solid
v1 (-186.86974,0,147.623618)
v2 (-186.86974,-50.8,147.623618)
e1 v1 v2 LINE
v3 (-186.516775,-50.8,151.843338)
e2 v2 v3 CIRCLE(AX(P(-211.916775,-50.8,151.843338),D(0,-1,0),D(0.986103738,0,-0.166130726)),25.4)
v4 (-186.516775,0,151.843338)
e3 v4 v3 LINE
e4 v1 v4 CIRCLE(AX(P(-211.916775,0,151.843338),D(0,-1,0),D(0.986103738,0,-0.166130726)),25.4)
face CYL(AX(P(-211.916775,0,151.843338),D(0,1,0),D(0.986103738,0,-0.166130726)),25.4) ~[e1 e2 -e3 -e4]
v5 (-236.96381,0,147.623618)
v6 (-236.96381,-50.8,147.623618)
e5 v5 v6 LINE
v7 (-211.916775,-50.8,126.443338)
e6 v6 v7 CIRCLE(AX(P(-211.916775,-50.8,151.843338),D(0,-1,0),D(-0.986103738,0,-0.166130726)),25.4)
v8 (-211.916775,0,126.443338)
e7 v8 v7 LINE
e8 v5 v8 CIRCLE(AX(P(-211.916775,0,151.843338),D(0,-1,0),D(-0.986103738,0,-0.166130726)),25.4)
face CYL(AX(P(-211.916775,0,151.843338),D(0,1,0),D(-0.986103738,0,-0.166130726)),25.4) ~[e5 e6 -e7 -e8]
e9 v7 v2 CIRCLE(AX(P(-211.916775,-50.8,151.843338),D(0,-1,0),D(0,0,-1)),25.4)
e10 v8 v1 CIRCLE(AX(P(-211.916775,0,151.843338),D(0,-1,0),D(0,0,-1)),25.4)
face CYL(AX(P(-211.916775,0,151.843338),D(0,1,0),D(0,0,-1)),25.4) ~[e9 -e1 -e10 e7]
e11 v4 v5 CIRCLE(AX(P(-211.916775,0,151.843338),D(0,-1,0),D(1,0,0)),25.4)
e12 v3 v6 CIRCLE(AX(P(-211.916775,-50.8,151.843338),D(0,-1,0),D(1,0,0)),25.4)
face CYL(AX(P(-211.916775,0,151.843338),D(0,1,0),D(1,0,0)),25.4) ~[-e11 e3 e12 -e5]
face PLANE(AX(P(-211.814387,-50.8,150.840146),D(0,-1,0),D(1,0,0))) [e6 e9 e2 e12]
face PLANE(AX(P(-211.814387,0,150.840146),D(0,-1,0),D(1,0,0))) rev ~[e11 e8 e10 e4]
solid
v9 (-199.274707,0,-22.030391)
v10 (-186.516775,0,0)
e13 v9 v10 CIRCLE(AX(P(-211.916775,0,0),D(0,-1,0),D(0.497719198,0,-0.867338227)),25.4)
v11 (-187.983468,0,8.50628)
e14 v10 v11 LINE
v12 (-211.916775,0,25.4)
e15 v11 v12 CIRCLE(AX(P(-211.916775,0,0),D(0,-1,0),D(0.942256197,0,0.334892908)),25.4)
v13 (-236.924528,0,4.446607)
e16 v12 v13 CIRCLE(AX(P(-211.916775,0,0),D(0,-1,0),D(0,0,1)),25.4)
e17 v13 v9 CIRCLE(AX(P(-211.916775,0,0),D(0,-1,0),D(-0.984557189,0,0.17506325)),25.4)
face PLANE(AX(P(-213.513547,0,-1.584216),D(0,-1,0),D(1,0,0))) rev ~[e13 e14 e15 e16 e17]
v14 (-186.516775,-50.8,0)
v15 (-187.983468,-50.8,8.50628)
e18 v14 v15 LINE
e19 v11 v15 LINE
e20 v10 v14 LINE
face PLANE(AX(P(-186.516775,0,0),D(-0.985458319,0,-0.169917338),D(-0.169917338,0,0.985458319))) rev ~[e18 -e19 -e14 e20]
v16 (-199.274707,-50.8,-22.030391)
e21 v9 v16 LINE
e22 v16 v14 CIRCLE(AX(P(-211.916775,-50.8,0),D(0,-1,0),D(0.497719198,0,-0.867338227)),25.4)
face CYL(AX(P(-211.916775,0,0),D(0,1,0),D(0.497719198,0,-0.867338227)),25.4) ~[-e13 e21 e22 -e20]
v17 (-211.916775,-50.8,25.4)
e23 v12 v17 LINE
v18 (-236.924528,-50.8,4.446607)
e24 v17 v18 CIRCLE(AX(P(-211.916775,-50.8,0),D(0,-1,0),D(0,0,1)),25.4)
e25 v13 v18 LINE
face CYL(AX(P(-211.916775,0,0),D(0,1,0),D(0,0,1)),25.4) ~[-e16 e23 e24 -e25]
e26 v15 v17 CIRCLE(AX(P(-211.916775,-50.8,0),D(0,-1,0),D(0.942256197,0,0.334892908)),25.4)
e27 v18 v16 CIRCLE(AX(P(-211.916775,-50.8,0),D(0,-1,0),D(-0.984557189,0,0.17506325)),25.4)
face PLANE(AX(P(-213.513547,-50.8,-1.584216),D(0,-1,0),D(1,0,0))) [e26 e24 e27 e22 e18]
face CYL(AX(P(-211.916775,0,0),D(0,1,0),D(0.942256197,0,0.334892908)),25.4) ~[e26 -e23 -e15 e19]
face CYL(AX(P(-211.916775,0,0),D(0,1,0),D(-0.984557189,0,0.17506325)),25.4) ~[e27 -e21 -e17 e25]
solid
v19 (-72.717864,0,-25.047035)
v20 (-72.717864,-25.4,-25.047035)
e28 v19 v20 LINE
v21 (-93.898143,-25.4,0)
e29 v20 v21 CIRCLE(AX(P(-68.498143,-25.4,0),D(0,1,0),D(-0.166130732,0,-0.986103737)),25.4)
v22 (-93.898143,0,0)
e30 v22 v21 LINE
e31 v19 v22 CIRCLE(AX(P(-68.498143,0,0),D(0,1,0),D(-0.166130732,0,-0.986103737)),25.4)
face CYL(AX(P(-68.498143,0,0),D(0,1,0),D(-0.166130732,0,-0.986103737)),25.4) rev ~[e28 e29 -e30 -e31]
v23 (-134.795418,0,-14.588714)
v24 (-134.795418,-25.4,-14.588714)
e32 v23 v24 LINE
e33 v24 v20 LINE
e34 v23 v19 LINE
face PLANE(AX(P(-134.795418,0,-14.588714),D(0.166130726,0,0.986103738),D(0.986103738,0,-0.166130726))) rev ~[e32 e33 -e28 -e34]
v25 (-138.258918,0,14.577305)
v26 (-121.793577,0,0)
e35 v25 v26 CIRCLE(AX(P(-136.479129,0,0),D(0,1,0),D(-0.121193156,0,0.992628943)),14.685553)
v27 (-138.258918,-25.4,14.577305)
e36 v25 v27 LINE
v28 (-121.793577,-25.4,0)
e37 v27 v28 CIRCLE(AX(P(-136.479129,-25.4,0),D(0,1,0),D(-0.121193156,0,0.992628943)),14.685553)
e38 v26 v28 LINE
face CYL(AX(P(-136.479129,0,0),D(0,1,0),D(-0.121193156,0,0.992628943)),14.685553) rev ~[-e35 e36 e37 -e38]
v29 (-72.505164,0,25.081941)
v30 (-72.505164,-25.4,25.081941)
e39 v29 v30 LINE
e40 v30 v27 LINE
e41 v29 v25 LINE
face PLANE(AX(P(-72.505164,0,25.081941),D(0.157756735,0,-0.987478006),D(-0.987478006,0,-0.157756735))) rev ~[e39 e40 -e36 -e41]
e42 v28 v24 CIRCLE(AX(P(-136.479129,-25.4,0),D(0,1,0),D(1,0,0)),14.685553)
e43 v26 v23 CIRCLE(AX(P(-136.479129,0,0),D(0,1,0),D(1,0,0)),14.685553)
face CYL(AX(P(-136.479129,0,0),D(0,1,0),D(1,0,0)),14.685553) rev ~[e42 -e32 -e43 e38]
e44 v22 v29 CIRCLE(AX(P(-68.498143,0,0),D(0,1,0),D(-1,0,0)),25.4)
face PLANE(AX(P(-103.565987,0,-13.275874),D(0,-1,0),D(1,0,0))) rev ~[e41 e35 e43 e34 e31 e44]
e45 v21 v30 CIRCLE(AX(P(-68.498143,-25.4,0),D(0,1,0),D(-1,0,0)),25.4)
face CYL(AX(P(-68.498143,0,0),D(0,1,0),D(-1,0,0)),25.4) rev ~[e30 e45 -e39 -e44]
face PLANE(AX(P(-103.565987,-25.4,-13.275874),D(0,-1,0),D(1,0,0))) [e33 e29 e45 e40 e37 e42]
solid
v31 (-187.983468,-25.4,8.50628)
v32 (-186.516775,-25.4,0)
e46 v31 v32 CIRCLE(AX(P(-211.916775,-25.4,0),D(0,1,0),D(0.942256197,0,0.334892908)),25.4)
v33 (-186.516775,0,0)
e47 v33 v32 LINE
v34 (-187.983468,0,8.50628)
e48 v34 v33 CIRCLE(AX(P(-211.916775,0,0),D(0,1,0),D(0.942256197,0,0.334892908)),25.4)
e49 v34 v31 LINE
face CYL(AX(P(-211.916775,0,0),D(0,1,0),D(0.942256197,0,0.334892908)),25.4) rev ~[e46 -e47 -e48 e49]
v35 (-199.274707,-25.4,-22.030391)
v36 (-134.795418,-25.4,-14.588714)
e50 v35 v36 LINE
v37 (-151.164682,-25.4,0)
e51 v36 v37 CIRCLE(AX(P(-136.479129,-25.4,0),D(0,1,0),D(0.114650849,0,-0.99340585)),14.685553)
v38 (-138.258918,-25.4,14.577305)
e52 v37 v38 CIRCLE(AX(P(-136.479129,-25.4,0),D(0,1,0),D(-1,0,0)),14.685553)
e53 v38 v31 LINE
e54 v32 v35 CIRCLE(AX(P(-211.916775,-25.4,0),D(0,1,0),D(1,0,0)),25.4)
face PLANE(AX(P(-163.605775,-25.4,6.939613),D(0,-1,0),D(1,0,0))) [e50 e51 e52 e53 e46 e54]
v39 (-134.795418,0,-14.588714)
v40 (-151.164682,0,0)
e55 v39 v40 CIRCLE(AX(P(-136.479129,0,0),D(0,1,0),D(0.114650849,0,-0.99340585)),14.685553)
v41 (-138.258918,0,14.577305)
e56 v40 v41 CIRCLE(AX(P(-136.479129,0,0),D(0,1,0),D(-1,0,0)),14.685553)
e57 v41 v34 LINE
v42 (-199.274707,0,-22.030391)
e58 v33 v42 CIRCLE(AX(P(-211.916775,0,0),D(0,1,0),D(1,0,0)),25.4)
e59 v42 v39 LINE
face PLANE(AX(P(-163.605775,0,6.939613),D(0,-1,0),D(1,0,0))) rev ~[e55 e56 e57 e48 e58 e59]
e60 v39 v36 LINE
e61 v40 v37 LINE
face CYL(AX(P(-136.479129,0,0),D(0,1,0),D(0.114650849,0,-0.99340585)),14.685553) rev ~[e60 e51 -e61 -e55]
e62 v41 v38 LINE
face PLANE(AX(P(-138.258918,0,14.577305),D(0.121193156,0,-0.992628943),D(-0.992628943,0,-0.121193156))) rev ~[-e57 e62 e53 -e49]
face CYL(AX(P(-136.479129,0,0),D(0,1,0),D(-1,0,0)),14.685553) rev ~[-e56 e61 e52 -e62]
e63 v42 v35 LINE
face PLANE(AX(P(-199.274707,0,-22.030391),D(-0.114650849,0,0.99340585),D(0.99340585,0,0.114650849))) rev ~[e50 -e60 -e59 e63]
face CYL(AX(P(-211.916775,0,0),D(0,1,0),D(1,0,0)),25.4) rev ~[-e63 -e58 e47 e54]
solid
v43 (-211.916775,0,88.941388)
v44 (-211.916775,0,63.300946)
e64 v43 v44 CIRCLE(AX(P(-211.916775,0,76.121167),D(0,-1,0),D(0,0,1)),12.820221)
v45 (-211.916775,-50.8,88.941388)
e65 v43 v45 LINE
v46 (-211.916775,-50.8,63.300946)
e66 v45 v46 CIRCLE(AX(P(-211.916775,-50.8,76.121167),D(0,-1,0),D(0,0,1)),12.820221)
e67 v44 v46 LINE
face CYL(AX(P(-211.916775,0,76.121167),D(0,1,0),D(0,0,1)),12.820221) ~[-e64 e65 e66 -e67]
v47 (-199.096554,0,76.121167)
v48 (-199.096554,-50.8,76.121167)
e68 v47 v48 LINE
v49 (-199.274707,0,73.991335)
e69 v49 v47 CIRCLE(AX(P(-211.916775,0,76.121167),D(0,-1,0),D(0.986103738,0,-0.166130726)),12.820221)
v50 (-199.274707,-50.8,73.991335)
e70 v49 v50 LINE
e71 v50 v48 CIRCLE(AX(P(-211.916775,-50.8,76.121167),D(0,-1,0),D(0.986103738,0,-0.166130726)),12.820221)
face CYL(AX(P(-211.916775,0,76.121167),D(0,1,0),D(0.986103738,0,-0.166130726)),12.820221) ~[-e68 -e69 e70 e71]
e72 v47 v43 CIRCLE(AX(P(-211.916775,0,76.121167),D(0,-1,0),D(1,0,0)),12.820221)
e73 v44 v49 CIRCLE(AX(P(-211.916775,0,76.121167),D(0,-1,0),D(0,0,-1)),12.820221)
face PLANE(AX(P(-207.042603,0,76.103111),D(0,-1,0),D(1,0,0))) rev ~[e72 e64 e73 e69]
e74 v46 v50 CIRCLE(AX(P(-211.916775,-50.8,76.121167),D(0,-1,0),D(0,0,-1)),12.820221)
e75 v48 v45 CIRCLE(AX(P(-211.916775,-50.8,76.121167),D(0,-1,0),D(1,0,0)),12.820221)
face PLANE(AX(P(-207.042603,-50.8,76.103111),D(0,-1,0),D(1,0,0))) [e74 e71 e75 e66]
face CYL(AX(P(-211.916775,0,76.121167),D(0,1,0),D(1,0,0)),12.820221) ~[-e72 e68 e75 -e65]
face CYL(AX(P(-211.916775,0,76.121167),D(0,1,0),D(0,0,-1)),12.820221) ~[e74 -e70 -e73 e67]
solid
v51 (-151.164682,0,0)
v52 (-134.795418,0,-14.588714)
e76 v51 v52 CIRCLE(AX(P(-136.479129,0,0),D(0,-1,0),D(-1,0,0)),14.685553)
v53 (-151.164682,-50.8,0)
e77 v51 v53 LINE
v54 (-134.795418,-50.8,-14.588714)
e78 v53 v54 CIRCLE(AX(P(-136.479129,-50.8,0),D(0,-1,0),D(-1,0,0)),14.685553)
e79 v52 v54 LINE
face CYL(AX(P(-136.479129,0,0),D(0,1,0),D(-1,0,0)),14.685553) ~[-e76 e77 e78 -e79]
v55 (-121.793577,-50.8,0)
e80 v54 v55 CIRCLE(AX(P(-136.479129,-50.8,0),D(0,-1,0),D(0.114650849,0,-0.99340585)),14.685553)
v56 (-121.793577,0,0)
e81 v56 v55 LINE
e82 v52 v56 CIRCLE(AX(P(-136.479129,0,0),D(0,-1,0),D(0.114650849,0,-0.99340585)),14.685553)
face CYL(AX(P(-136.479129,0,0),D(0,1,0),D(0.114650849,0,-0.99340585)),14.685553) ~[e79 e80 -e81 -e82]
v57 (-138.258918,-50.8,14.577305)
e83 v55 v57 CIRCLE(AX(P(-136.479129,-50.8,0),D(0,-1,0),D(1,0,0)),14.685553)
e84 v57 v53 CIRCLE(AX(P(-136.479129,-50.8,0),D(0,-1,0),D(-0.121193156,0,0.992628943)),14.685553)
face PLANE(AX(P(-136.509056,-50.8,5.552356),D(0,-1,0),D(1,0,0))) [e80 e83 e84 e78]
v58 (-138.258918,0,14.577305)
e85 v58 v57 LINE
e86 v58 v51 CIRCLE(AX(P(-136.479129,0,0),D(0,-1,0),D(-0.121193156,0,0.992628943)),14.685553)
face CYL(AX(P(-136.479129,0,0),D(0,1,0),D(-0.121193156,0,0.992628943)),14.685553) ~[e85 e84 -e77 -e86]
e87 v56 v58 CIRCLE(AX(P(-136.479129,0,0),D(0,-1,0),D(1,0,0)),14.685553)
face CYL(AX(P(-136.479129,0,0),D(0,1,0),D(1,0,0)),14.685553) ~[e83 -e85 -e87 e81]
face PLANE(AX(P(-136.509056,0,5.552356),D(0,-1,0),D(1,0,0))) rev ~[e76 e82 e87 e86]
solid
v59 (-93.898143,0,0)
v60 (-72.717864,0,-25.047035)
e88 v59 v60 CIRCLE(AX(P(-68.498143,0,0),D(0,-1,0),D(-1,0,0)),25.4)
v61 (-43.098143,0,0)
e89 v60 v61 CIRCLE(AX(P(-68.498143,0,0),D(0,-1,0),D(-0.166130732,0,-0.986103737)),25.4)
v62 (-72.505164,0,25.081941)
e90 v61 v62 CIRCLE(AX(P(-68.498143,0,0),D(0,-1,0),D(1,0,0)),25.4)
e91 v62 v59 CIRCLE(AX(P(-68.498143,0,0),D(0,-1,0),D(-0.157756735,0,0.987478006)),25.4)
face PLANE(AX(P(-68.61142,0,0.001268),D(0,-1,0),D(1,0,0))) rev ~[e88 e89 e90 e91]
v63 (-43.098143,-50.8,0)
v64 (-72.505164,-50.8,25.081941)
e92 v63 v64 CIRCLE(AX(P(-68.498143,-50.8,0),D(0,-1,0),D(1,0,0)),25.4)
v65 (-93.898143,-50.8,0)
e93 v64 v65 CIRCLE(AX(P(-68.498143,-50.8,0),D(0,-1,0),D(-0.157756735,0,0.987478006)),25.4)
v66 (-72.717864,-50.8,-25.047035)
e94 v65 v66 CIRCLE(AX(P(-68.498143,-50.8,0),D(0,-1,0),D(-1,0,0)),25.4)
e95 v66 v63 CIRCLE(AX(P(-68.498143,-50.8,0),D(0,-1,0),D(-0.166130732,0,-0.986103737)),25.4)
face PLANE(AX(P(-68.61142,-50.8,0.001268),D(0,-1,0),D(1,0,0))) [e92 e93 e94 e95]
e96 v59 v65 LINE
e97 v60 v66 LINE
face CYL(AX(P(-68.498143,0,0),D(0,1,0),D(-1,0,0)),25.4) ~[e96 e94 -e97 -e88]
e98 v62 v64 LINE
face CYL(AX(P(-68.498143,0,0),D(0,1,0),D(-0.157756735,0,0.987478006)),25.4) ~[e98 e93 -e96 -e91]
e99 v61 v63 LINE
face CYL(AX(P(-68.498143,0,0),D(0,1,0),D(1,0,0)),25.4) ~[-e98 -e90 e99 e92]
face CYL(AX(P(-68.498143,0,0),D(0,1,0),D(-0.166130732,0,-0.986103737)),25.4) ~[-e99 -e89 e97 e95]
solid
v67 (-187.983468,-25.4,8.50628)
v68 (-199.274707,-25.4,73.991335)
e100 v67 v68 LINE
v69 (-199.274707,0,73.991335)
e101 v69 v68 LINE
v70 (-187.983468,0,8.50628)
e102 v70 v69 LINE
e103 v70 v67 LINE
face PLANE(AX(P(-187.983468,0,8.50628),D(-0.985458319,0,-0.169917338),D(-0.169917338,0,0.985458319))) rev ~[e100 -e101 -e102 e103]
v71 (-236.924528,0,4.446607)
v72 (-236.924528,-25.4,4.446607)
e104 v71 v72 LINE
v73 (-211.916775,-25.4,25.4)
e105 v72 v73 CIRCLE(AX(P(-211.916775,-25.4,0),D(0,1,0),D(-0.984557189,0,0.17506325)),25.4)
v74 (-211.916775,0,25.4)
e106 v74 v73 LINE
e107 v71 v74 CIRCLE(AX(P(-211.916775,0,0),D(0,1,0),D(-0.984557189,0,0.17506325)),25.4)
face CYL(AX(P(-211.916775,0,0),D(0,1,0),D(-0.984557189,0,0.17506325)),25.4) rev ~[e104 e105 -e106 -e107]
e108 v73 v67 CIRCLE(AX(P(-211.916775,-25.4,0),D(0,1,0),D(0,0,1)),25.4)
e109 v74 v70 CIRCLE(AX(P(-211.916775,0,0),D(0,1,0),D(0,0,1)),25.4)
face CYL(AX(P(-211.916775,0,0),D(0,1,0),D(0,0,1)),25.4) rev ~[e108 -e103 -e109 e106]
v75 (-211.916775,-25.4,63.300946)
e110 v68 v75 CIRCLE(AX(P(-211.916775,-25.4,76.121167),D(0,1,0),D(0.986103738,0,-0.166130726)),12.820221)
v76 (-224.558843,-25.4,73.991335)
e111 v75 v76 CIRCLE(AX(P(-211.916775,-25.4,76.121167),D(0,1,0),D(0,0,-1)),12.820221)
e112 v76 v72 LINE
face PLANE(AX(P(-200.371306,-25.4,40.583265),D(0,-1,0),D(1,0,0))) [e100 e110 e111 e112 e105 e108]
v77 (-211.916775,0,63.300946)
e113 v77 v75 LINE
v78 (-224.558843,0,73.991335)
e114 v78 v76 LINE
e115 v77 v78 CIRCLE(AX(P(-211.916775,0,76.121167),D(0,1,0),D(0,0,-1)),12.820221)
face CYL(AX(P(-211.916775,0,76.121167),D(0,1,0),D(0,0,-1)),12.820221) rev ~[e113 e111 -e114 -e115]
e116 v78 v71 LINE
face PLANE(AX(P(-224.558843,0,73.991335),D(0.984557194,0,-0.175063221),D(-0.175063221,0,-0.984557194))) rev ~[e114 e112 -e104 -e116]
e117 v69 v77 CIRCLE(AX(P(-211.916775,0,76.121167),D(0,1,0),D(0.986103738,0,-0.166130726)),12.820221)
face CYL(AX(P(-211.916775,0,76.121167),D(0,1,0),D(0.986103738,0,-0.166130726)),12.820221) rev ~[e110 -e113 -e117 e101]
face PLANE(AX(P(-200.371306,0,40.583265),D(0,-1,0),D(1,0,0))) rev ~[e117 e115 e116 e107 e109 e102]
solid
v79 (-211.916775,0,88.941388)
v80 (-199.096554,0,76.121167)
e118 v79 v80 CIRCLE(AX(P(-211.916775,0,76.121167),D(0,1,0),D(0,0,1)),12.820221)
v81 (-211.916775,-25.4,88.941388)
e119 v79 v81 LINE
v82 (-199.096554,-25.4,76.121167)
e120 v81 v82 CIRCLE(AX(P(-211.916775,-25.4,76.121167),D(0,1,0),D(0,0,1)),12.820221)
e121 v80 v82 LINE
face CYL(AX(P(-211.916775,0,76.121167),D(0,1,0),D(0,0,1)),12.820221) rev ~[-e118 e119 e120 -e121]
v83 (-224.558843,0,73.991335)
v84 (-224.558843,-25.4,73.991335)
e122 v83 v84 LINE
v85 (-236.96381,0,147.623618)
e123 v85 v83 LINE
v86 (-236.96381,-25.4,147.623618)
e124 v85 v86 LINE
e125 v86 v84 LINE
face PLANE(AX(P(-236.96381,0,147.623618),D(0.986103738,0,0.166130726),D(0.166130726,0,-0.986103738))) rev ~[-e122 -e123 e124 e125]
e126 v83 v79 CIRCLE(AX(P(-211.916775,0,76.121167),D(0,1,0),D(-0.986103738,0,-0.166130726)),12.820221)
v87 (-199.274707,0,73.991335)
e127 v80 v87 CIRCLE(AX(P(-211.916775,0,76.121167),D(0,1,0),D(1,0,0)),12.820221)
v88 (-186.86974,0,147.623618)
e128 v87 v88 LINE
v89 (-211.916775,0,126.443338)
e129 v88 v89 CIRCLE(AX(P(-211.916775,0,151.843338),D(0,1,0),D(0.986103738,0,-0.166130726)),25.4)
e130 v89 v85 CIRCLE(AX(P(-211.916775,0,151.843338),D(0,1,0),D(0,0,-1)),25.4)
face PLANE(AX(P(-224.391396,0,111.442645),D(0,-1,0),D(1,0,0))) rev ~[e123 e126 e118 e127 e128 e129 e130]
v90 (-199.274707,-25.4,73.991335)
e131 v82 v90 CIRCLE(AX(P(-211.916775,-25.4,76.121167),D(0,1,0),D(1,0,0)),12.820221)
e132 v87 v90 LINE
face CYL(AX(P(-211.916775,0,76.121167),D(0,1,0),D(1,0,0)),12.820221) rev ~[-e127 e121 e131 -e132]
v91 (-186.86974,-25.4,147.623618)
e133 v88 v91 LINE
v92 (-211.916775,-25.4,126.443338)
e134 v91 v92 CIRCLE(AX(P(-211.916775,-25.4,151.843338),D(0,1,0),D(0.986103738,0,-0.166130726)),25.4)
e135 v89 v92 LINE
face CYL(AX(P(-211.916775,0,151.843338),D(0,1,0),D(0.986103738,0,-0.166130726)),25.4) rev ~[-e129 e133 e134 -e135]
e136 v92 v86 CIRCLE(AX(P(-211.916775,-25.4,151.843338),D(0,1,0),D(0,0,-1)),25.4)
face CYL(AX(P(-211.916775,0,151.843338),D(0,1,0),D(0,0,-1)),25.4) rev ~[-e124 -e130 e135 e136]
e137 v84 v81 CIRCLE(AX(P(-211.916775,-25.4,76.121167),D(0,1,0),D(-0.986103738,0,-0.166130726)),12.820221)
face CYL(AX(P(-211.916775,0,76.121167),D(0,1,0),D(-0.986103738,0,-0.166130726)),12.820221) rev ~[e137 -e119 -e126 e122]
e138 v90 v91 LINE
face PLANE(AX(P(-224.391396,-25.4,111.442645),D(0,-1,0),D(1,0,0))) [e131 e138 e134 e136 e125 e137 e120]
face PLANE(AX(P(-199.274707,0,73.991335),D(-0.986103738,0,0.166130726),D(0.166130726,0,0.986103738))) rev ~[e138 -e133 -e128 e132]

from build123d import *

# Parameters (mm, degrees)
F1_DEPTH = 50.8
F2_DEPTH = 25.4


with BuildPart() as f1:
    # F0 (on Front) → F1 (new body)
    with BuildSketch(Plane.XZ):
        with BuildLine():
            ThreePointArc((-211.9167751071, 126.4433380044), (-195.5158742035, 132.4482239405), (-186.8697401642, 147.6236175673))
            ThreePointArc((-186.8697401642, 147.6236175673), (-186.6051701842, 149.7261095744), (-186.5167751071, 151.8433380044))
            ThreePointArc((-186.5167751071, 151.8433380044), (-214.0340035371, 177.1549429273), (-236.9638100501, 147.6236175673))
            ThreePointArc((-236.9638100501, 147.6236175673), (-228.3176760107, 132.4482239405), (-211.9167751071, 126.4433380044))
        make_face()
    extrude(amount=F1_DEPTH)


with BuildPart() as f1b:
    # F0 (on Front) → F1, piece 2 (new body)
    with BuildSketch(Plane.XZ):
        with BuildLine():
            Line((-211.9167751071, 76.1211671092), (-211.9167751071, 63.3009463244))
            ThreePointArc((-211.9167751071, 63.3009463244), (-203.6386975224, 66.3318110287), (-199.2747074704, 73.9913345244))
            ThreePointArc((-199.2747074704, 73.9913345244), (-199.1411702438, 75.0525318366), (-199.0965543223, 76.1211671092))
            ThreePointArc((-199.0965543223, 76.1211671092), (-202.8515100539, 85.1864321624), (-211.9167751071, 88.9413878939))
            Line((-211.9167751071, 88.9413878939), (-211.9167751071, 76.1211671092))
        make_face()
        with BuildLine():
            ThreePointArc((-224.5588427438, 73.9913345244), (-220.1948526919, 66.3318110287), (-211.9167751071, 63.3009463244))
            Line((-211.9167751071, 63.3009463244), (-211.9167751071, 76.1211671092))
            Line((-211.9167751071, 76.1211671092), (-211.9167751071, 88.9413878939))
            ThreePointArc((-211.9167751071, 88.9413878939), (-221.7061311876, 84.3992446939), (-224.5588427438, 73.9913345244))
        make_face()
    extrude(amount=F1_DEPTH)


with BuildPart() as f1c:
    # F0 (on Front) → F1, piece 3 (new body)
    with BuildSketch(Plane.XZ):
        with BuildLine():
            Line((-186.5167751071, 0), (-211.9167751071, 0))
            Line((-211.9167751071, 0), (-211.9167751071, 25.4))
            ThreePointArc((-211.9167751071, 25.4), (-228.2295951235, 19.4692553302), (-236.9245277098, 4.4466065444))
            ThreePointArc((-236.9245277098, 4.4466065444), (-226.5279143641, -20.7767805401), (-199.2747074704, -22.0303909604))
            ThreePointArc((-199.2747074704, -22.0303909604), (-189.9364598458, -12.7289332237), (-186.5167751071, 0))
        make_face()
        with BuildLine():
            Line((-211.9167751071, 25.4), (-211.9167751071, 0))
            Line((-211.9167751071, 0), (-186.5167751071, 0))
            Line((-186.5167751071, 0), (-187.983467712, 8.5062798644))
            ThreePointArc((-187.983467712, 8.5062798644), (-197.269241331, 20.7511386261), (-211.9167751071, 25.4))
        make_face()
    extrude(amount=F1_DEPTH)


with BuildPart() as f1d:
    # F0 (on Front) → F1, piece 4 (new body)
    with BuildSketch(Plane.XZ):
        with BuildLine():
            ThreePointArc((-121.7935765503, 0), (-126.7444418401, 10.9955136808), (-138.2589179551, 14.5773048554))
            ThreePointArc((-138.2589179551, 14.5773048554), (-147.4746431309, 9.73468761), (-151.1646823497, 0))
            Line((-151.1646823497, 0), (-121.7935765503, 0))
        make_face()
        with BuildLine():
            ThreePointArc((-151.1646823497, 0), (-146.2499849741, -10.9633866254), (-134.7954183365, -14.5887141604))
            ThreePointArc((-134.7954183365, -14.5887141604), (-125.5157428246, -9.770855524), (-121.7935765503, 0))
            Line((-121.7935765503, 0), (-151.1646823497, 0))
        make_face()
    extrude(amount=F1_DEPTH)


with BuildPart() as f1e:
    # F0 (on Front) → F1, piece 5 (new body)
    with BuildSketch(Plane.XZ):
        with BuildLine():
            ThreePointArc((-43.0981432392, 0), (-52.0150964231, 19.325350389), (-72.5051643145, 25.0819413543))
            ThreePointArc((-72.5051643145, 25.0819413543), (-87.8234936282, 16.4830468162), (-93.8981432392, 0))
            ThreePointArc((-93.8981432392, 0), (-87.8932573547, -16.4009008425), (-72.717863834, -25.0470349164))
            ThreePointArc((-72.717863834, -25.0470349164), (-52.0972423967, -19.3951141155), (-43.0981432392, 0))
        make_face()
    extrude(amount=F1_DEPTH)


with BuildPart() as f2:
    # F0 (on Front) → F2 (new body)
    with BuildSketch(Plane.XZ):
        with BuildLine():
            Line((-236.9638100501, 147.6236175673), (-224.5588427438, 73.9913345244))
            ThreePointArc((-224.5588427438, 73.9913345244), (-221.7061311876, 84.3992446939), (-211.9167751071, 88.9413878939))
            Line((-211.9167751071, 88.9413878939), (-211.9167751071, 126.4433380044))
            ThreePointArc((-211.9167751071, 126.4433380044), (-228.3176760107, 132.4482239405), (-236.9638100501, 147.6236175673))
        make_face()
        with BuildLine():
            ThreePointArc((-199.0965543223, 76.1211671092), (-199.1411702438, 75.0525318366), (-199.2747074704, 73.9913345244))
            Line((-199.2747074704, 73.9913345244), (-186.8697401642, 147.6236175673))
            ThreePointArc((-186.8697401642, 147.6236175673), (-195.5158742035, 132.4482239405), (-211.9167751071, 126.4433380044))
            Line((-211.9167751071, 126.4433380044), (-211.9167751071, 88.9413878939))
            ThreePointArc((-211.9167751071, 88.9413878939), (-202.8515100539, 85.1864321624), (-199.0965543223, 76.1211671092))
        make_face()
    extrude(amount=F2_DEPTH)


with BuildPart() as f2b:
    # F0 (on Front) → F2, piece 2 (new body)
    with BuildSketch(Plane.XZ):
        with BuildLine():
            Line((-211.9167751071, 63.3009463244), (-211.9167751071, 25.4))
            ThreePointArc((-211.9167751071, 25.4), (-197.269241331, 20.7511386261), (-187.983467712, 8.5062798644))
            Line((-187.983467712, 8.5062798644), (-199.2747074704, 73.9913345244))
            ThreePointArc((-199.2747074704, 73.9913345244), (-203.6386975224, 66.3318110287), (-211.9167751071, 63.3009463244))
        make_face()
        with BuildLine():
            ThreePointArc((-236.9245277098, 4.4466065444), (-228.2295951235, 19.4692553302), (-211.9167751071, 25.4))
            Line((-211.9167751071, 25.4), (-211.9167751071, 63.3009463244))
            ThreePointArc((-211.9167751071, 63.3009463244), (-220.1948526919, 66.3318110287), (-224.5588427438, 73.9913345244))
            Line((-224.5588427438, 73.9913345244), (-236.9245277098, 4.4466065444))
        make_face()
    extrude(amount=F2_DEPTH)


with BuildPart() as f2c:
    # F0 (on Front) → F2, piece 3 (new body)
    with BuildSketch(Plane.XZ):
        with BuildLine():
            ThreePointArc((-121.7935765503, 0), (-125.5157428246, -9.770855524), (-134.7954183365, -14.5887141604))
            Line((-134.7954183365, -14.5887141604), (-72.717863834, -25.0470349164))
            ThreePointArc((-72.717863834, -25.0470349164), (-87.8932573547, -16.4009008425), (-93.8981432392, 0))
            Line((-93.8981432392, 0), (-119.2981432392, 0))
            Line((-119.2981432392, 0), (-121.7935765503, 0))
        make_face()
        with BuildLine():
            Line((-72.5051643145, 25.0819413543), (-138.2589179551, 14.5773048554))
            ThreePointArc((-138.2589179551, 14.5773048554), (-126.7444418401, 10.9955136808), (-121.7935765503, 0))
            Line((-121.7935765503, 0), (-119.2981432392, 0))
            Line((-119.2981432392, 0), (-93.8981432392, 0))
            ThreePointArc((-93.8981432392, 0), (-87.8234936282, 16.4830468162), (-72.5051643145, 25.0819413543))
        make_face()
    extrude(amount=F2_DEPTH)


with BuildPart() as f2d:
    # F0 (on Front) → F2, piece 4 (new body)
    with BuildSketch(Plane.XZ):
        with BuildLine():
            ThreePointArc((-187.983467712, 8.5062798644), (-186.8861338065, 4.3159003791), (-186.5167751071, 0))
            Line((-186.5167751071, 0), (-182.8762030692, 0))
            Line((-182.8762030692, 0), (-165.6074591732, 0))
            Line((-165.6074591732, 0), (-151.1646823497, 0))
            ThreePointArc((-151.1646823497, 0), (-147.4746431309, 9.73468761), (-138.2589179551, 14.5773048554))
            Line((-138.2589179551, 14.5773048554), (-187.983467712, 8.5062798644))
        make_face()
        with BuildLine():
            Line((-182.8762030692, 0), (-186.5167751071, 0))
            ThreePointArc((-186.5167751071, 0), (-189.9364598458, -12.7289332237), (-199.2747074704, -22.0303909604))
            Line((-199.2747074704, -22.0303909604), (-134.7954183365, -14.5887141604))
            ThreePointArc((-134.7954183365, -14.5887141604), (-146.2499849741, -10.9633866254), (-151.1646823497, 0))
            Line((-151.1646823497, 0), (-165.6074591732, 0))
            Line((-165.6074591732, 0), (-182.8762030692, 0))
        make_face()
    extrude(amount=F2_DEPTH)


solid = Compound([f1.part, f1b.part, f1c.part, f1d.part, f1e.part, f2.part, f2b.part, f2c.part, f2d.part])
